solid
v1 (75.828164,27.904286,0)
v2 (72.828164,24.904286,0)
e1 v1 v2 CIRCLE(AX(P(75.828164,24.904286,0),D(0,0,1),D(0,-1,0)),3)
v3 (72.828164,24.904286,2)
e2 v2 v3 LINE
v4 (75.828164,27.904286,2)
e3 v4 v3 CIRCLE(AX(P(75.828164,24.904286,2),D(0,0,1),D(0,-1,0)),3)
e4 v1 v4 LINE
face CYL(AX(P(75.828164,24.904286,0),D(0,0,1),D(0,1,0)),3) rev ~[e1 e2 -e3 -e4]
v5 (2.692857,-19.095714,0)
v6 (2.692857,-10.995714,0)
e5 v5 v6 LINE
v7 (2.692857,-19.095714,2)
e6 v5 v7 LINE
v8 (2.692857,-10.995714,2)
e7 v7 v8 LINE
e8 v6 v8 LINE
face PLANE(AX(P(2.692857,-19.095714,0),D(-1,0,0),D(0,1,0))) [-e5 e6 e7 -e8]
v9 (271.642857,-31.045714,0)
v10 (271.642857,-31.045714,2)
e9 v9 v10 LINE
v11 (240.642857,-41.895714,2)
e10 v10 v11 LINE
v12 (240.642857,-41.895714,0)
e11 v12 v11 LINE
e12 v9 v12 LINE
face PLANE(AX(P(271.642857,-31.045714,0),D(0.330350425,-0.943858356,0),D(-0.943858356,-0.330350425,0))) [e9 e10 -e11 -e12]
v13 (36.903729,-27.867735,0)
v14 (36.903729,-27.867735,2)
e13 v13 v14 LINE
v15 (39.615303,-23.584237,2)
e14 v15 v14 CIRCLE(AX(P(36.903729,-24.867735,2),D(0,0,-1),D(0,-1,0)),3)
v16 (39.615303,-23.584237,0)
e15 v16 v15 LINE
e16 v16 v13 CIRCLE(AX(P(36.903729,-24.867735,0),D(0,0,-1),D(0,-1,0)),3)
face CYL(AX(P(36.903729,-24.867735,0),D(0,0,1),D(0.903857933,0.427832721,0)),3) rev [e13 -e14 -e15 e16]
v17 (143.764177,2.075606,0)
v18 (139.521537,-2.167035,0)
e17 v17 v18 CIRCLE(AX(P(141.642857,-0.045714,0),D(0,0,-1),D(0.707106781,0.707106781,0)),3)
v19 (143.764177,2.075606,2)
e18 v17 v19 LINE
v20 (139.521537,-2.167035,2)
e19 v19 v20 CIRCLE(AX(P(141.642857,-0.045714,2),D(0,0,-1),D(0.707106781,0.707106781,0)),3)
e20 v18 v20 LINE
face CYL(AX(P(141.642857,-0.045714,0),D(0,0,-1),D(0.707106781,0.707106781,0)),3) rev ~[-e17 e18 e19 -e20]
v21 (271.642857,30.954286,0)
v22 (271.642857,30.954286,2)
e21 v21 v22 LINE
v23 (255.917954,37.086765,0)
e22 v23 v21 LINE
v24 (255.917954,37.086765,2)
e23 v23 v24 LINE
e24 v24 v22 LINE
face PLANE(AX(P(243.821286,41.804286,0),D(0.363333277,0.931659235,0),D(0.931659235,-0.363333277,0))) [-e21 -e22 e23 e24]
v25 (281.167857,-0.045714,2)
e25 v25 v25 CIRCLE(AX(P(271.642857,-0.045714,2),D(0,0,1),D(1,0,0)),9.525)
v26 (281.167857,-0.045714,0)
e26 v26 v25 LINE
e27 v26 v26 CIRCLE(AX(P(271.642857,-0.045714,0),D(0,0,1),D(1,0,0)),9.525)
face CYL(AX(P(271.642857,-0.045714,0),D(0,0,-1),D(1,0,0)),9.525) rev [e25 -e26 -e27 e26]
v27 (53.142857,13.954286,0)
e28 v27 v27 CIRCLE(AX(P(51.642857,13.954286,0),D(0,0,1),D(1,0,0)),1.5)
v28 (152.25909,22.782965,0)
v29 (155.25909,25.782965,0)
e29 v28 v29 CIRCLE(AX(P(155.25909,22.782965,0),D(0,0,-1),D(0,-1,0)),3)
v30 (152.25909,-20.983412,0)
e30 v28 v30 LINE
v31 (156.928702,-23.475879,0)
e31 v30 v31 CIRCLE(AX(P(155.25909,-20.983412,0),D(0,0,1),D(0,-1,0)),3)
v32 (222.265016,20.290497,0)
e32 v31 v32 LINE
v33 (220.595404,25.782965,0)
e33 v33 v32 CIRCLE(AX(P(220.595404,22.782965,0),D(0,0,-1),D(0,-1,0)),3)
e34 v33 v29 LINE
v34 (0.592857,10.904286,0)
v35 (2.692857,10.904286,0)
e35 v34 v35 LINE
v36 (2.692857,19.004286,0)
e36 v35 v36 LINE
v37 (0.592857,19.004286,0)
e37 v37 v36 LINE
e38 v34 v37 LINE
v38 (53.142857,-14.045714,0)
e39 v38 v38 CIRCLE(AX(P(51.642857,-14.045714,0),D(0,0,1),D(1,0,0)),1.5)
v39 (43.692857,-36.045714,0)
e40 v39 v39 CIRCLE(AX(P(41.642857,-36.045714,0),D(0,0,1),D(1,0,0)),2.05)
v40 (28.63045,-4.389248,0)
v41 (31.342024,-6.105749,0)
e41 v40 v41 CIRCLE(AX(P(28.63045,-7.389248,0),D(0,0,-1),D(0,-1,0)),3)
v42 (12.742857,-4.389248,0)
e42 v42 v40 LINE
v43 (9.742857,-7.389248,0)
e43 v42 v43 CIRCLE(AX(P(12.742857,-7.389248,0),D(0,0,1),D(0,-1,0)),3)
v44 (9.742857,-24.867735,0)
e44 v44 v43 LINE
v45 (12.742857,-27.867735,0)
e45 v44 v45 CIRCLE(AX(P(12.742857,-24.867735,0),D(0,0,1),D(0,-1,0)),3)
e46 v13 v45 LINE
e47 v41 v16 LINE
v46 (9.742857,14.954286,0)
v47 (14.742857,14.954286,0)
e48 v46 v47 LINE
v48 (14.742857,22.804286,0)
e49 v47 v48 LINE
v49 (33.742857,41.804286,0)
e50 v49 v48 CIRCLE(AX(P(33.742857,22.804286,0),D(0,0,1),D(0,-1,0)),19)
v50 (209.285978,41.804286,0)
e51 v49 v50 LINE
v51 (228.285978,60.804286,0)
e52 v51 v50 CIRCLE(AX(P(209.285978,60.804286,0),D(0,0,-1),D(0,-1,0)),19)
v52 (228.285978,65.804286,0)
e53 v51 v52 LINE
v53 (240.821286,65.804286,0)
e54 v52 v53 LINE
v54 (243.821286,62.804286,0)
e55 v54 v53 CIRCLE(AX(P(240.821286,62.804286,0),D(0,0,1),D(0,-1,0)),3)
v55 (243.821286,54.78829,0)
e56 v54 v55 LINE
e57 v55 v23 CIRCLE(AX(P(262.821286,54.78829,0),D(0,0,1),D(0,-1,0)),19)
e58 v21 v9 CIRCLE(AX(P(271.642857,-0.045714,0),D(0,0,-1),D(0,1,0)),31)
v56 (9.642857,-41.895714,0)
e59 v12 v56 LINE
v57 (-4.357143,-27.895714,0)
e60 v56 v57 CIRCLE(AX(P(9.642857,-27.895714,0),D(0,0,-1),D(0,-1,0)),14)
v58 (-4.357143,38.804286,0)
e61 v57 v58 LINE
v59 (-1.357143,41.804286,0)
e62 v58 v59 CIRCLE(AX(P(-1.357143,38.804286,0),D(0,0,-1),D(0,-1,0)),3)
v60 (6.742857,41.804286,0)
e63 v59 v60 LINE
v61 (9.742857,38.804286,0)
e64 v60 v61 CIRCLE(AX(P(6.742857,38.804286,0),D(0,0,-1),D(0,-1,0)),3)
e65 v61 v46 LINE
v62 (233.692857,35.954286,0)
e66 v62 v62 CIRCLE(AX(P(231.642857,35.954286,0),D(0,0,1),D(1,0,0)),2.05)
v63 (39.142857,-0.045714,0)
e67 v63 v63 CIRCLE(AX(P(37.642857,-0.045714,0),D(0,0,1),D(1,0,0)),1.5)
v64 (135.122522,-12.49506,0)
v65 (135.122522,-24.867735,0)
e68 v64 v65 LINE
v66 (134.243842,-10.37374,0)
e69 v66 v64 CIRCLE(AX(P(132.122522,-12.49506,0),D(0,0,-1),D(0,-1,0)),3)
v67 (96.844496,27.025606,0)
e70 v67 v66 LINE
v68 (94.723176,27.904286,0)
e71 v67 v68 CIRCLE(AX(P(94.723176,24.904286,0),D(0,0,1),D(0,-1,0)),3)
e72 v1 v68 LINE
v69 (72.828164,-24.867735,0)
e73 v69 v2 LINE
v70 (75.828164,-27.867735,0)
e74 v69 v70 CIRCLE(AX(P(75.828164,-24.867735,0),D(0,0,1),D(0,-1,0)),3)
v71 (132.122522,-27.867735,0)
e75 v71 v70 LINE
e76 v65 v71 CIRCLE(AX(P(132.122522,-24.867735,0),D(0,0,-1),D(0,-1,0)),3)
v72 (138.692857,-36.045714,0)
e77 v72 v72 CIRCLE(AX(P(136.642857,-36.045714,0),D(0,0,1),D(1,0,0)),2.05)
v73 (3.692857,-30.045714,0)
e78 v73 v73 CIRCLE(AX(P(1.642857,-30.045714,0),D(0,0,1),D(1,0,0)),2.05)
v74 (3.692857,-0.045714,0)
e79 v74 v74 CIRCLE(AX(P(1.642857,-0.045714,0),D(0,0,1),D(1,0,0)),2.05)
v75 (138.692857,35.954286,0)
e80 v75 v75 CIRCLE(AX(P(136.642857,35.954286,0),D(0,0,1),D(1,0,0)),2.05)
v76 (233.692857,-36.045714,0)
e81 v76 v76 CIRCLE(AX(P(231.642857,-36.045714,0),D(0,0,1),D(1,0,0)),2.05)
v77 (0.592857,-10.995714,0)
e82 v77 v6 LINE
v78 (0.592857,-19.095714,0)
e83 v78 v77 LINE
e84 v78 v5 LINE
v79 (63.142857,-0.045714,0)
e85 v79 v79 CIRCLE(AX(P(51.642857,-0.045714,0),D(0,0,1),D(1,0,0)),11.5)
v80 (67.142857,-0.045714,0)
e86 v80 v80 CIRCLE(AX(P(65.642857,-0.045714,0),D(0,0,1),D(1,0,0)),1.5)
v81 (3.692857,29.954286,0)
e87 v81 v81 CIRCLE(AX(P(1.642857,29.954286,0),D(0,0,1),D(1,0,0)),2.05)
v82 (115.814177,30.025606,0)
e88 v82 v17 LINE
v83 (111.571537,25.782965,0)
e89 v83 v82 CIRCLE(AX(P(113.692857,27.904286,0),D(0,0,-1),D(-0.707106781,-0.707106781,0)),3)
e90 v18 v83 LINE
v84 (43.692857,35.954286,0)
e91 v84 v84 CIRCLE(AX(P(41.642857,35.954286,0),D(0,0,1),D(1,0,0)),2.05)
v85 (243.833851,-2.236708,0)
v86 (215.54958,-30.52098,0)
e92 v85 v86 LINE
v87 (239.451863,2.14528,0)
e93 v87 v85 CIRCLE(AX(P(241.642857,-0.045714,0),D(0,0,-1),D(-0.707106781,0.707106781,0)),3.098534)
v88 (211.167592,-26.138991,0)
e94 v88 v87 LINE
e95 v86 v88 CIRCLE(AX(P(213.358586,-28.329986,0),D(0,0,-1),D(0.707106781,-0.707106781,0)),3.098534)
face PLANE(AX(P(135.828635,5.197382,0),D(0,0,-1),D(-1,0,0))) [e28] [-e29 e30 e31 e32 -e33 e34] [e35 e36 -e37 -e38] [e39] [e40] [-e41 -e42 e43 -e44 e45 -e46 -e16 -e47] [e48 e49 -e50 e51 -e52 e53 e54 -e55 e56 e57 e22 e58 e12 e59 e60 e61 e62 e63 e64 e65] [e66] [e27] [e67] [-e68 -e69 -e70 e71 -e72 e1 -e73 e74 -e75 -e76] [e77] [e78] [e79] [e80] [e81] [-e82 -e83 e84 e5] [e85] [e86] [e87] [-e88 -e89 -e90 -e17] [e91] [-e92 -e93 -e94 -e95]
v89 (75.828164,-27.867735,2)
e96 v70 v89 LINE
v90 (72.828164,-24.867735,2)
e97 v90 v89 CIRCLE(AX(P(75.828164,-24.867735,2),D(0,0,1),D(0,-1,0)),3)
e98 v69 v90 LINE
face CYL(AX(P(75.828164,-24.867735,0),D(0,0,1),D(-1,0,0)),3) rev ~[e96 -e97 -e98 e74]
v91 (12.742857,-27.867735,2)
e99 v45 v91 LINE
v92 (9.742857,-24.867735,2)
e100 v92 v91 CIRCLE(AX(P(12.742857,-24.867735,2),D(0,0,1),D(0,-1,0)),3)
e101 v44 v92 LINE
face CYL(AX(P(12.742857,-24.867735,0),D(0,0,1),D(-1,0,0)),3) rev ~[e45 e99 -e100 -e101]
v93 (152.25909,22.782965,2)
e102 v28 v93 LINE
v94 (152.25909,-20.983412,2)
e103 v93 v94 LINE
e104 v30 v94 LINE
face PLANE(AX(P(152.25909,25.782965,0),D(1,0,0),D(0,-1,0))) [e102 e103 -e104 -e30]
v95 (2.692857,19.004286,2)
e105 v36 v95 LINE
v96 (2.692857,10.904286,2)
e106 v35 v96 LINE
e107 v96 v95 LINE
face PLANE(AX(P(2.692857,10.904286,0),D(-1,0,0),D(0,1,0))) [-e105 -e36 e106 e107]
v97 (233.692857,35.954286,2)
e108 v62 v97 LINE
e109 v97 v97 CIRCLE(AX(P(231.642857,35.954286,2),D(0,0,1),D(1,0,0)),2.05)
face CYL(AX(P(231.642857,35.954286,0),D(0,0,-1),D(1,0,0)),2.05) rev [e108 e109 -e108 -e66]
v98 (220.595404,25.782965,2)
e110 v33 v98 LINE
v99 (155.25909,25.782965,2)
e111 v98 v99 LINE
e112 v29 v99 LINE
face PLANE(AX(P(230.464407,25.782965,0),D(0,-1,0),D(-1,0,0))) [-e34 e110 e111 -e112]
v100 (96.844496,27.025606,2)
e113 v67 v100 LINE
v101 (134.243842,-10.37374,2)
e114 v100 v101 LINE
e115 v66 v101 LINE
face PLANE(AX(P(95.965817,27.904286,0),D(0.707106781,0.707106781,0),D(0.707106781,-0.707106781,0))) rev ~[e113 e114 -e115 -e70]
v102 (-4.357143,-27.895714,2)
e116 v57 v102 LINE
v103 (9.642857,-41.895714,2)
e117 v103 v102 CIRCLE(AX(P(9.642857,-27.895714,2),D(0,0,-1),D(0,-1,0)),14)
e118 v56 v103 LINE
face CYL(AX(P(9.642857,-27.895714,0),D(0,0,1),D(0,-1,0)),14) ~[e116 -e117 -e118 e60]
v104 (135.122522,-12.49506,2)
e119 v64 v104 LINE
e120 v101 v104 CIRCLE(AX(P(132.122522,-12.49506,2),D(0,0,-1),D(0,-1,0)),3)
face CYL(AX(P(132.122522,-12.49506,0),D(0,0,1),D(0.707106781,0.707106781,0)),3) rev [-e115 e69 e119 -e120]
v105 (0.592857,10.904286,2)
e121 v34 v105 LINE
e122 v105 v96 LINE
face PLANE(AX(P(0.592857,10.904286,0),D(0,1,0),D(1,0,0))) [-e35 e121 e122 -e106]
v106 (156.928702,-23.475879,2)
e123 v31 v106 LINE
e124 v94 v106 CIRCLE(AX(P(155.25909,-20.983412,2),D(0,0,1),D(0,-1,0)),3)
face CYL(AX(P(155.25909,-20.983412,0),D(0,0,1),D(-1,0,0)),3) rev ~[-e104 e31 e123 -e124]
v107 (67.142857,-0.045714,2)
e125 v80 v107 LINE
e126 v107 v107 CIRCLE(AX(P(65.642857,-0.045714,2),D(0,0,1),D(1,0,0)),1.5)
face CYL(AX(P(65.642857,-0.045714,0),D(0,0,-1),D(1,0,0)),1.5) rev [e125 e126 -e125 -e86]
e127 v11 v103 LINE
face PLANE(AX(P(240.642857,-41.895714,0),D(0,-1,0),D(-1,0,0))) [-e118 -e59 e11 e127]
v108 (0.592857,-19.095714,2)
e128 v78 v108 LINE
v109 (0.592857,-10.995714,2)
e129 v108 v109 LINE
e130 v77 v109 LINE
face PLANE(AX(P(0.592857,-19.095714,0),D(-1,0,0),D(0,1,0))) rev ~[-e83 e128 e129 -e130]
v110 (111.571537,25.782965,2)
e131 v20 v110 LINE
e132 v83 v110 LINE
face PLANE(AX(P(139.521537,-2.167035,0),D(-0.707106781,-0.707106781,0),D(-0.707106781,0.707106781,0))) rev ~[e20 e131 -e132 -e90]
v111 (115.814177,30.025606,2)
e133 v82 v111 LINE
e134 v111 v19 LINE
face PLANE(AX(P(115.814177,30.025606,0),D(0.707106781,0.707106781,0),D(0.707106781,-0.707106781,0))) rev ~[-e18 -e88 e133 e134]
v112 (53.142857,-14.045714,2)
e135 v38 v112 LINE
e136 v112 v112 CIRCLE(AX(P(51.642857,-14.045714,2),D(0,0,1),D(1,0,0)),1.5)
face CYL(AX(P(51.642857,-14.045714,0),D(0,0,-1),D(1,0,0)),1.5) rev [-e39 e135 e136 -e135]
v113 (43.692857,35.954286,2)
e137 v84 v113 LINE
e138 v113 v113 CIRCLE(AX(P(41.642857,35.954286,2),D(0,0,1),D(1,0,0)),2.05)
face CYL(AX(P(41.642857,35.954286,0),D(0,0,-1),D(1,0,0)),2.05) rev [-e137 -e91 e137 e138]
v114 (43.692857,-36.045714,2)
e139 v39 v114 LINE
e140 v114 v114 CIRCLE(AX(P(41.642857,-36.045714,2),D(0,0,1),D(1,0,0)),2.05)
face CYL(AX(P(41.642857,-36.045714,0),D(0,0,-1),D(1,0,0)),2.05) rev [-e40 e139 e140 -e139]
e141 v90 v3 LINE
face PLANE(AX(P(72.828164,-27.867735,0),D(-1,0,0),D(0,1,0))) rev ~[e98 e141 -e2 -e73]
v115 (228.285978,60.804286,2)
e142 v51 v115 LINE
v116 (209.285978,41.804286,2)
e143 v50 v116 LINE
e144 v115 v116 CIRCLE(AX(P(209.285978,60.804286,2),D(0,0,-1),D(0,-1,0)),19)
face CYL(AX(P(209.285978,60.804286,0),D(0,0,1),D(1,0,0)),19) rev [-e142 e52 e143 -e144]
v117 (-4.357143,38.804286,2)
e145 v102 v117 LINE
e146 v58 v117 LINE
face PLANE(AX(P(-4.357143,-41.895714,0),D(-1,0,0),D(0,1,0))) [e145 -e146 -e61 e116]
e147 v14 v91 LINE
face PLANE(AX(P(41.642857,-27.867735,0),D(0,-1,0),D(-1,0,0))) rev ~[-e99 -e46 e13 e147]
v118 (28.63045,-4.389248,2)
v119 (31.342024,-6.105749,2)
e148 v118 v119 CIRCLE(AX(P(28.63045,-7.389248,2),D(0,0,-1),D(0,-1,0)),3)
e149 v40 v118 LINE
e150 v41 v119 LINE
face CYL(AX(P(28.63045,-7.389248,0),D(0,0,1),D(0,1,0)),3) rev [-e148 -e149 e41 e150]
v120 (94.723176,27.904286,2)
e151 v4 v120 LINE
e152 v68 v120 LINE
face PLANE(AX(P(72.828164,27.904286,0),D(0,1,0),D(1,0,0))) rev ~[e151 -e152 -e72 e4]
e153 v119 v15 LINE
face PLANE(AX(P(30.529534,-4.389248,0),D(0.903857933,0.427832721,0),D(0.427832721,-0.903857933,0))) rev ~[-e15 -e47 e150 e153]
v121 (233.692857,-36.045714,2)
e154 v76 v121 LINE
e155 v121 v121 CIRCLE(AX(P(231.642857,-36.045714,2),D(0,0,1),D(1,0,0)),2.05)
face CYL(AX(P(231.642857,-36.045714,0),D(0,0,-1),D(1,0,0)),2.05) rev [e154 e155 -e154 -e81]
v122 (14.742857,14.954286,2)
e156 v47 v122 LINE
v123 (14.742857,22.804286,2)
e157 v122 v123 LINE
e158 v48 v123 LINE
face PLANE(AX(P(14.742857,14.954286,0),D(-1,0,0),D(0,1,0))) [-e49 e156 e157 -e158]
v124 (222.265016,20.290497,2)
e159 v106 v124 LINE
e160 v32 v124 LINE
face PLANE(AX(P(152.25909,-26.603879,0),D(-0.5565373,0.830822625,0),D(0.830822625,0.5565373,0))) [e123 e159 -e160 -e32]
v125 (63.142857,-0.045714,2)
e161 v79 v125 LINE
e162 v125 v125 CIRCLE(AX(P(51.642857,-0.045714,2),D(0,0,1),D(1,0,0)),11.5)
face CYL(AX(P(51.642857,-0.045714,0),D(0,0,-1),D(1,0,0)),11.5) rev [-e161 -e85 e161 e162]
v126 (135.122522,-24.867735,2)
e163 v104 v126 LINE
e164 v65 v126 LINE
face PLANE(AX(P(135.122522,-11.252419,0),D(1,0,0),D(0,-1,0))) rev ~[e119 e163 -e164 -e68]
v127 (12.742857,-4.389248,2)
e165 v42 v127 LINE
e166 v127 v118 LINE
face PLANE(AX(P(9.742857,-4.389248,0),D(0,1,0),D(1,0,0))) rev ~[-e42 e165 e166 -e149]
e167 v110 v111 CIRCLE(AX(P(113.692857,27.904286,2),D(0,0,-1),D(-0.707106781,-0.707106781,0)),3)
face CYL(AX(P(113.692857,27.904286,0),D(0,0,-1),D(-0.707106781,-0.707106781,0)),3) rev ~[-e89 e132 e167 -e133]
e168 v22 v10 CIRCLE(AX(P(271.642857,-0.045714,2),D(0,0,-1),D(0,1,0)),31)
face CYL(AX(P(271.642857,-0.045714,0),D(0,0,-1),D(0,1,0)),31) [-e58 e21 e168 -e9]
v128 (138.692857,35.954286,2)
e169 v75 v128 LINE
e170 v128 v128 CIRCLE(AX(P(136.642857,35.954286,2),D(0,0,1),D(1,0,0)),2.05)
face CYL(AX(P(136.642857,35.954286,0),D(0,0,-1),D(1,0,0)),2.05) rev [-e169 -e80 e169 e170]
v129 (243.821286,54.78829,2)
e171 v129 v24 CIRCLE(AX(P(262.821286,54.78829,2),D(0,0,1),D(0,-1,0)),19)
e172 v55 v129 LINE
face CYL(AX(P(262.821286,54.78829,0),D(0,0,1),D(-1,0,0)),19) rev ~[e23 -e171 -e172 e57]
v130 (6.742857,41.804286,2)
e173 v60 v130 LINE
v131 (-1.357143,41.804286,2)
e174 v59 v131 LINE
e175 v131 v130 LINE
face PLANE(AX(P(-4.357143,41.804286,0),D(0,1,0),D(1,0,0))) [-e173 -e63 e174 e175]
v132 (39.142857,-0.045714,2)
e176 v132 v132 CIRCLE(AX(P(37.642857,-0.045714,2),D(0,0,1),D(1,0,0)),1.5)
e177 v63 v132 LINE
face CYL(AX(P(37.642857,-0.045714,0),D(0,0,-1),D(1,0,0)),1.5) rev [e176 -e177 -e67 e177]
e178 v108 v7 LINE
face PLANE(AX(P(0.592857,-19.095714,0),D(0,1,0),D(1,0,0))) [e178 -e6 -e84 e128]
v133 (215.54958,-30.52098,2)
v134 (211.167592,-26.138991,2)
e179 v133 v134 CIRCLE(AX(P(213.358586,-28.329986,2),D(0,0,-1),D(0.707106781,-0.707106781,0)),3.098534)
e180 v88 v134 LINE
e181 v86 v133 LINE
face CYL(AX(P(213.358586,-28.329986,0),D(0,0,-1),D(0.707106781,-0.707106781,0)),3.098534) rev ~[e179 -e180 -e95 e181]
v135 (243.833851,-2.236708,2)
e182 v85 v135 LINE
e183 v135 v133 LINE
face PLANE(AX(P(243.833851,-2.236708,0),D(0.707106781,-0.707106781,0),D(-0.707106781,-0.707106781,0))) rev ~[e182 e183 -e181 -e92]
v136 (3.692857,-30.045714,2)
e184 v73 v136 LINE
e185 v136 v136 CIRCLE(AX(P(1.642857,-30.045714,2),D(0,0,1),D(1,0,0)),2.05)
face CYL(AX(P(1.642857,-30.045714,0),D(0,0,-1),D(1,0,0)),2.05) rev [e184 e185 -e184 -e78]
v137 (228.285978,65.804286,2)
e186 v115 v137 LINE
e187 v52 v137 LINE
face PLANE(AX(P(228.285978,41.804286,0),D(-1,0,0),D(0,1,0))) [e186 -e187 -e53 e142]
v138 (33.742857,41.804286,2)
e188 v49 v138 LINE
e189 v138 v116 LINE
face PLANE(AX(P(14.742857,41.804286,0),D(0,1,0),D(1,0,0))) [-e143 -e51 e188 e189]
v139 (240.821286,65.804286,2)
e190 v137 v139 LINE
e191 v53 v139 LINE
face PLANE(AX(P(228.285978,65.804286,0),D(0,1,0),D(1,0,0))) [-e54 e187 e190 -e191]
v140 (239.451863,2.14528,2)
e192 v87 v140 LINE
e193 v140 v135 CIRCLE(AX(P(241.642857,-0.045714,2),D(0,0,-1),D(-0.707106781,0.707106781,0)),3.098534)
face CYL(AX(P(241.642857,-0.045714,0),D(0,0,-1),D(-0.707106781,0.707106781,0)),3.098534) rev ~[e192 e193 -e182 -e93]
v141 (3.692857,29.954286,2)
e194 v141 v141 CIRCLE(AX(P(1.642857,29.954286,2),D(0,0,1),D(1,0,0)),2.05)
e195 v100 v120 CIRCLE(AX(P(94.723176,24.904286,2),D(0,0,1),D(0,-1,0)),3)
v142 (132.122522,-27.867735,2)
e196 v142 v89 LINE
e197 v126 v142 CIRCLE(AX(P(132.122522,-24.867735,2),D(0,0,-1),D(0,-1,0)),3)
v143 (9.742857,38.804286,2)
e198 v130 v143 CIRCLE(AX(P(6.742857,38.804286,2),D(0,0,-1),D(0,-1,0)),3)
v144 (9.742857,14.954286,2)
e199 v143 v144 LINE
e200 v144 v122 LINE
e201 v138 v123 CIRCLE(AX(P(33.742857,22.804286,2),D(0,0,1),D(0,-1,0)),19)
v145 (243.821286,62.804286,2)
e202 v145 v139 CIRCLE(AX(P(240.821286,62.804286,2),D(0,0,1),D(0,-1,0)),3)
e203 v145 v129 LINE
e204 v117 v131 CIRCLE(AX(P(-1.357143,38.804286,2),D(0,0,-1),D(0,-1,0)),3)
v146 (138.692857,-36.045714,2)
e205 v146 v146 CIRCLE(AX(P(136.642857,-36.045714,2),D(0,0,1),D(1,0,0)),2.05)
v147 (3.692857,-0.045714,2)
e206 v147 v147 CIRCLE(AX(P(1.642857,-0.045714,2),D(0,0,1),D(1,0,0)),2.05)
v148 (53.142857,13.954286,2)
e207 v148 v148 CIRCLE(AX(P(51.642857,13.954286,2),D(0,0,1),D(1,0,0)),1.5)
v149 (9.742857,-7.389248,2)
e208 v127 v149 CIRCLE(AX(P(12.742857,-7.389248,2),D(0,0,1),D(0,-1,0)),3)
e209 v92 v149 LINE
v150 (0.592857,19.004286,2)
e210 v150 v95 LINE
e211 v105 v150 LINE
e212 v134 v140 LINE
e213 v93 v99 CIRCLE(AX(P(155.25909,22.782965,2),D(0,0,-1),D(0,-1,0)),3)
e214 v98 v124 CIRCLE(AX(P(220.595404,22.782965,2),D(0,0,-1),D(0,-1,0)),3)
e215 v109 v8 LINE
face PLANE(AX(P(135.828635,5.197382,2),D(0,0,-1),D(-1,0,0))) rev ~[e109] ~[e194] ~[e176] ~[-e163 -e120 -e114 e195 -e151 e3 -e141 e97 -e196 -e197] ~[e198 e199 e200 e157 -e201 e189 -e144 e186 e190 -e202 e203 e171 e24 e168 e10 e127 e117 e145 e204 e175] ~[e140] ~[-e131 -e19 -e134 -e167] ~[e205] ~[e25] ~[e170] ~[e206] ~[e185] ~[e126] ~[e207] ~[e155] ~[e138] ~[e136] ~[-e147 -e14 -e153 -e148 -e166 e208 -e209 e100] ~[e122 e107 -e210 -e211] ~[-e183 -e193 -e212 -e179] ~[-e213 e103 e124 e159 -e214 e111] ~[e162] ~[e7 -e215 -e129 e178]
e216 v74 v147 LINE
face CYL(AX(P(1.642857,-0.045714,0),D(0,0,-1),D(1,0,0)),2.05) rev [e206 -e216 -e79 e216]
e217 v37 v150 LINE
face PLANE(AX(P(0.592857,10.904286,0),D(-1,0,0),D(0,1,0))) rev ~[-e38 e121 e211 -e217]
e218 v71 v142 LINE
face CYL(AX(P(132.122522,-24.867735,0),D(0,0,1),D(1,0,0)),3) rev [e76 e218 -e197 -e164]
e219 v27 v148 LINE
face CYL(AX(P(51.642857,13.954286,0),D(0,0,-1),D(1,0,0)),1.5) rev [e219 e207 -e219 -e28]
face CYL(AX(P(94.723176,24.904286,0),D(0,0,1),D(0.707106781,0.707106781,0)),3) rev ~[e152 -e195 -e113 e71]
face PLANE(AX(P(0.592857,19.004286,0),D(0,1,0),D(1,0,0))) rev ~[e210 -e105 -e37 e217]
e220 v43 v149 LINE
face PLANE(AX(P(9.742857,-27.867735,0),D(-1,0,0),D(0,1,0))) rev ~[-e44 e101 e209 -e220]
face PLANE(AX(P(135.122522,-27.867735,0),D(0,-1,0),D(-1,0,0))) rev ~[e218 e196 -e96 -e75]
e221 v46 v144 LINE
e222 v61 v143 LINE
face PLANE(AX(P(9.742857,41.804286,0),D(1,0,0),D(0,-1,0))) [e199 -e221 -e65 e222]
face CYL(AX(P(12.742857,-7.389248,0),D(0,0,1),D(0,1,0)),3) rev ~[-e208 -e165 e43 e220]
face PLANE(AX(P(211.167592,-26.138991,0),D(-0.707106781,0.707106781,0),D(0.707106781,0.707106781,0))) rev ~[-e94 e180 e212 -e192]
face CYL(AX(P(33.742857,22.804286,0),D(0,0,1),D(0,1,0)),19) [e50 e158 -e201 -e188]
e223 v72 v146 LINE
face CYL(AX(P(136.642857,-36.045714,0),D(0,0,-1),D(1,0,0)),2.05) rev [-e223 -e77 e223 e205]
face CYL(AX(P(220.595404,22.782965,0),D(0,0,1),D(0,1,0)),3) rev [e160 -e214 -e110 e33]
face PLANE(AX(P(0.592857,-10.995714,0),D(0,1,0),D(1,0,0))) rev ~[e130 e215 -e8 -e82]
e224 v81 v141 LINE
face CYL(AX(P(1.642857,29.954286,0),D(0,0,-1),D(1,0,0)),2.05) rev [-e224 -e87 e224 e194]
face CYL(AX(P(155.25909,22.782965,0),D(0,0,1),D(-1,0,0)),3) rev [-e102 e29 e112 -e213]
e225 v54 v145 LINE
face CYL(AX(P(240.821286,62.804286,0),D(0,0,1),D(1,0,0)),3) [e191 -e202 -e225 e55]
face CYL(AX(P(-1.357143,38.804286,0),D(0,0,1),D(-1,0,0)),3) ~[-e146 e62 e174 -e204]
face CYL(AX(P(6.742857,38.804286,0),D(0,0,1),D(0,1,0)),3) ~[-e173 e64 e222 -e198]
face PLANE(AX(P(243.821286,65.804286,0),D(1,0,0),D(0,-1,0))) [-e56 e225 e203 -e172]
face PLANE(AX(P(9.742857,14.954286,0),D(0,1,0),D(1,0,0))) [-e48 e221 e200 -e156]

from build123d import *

# Parameters (mm, degrees)
SKETCH_1_R      = 2.05
SKETCH_1_R_2    = 11.5
SKETCH_1_R_3    = 1.5
SKETCH_1_R_4    = 9.525
SKETCH_1_W      = 2.1
SKETCH_1_H      = 8.1
EXTRUDE_1_DEPTH = 2
FILLET_2_R      = 3
FILLET_3_R      = 19
FILLET_4_R      = 14
FILLET_5_R      = 3


with BuildPart() as part:
    # 草图1 → 凸台-拉伸1 (new body)
    with BuildSketch(Plane.XY):
        with BuildLine():
            Line((-4.357142857, -0.045714286), (-4.357142857, 41.804285714))
            Line((-4.357142857, 41.804285714), (9.742857143, 41.804285714))
            Line((9.742857143, 41.804285714), (9.742857143, 14.954285714))
            Line((9.742857143, 14.954285714), (14.742857143, 14.954285714))
            Line((14.742857143, 14.954285714), (14.742857143, 41.804285714))
            Line((14.742857143, 41.804285714), (228.285977906, 41.804285714))
            Line((228.285977906, 41.804285714), (228.285977906, 65.804285714))
            Line((228.285977906, 65.804285714), (243.821285799, 65.804285714))
            Line((243.821285799, 65.804285714), (243.821285799, 41.804285714))
            Line((243.821285799, 41.804285714), (271.642857143, 30.954285714))
            ThreePointArc((271.642857143, 30.954285714), (302.642857143, -0.045714286), (271.642857143, -31.045714286))
            Line((271.642857143, -31.045714286), (240.642857143, -41.895714286))
            Line((240.642857143, -41.895714286), (-4.357142857, -41.895714286))
            Line((-4.357142857, -41.895714286), (-4.357142857, -0.045714286))
        make_face()
        with Locations((1.642857143, 29.954285714)):
            Circle(SKETCH_1_R, mode=Mode.SUBTRACT)
        with Locations((1.642857143, -0.045714286)):
            Circle(SKETCH_1_R, mode=Mode.SUBTRACT)
        with Locations((1.642857143, -30.045714286)):
            Circle(SKETCH_1_R, mode=Mode.SUBTRACT)
        with Locations((51.642857143, -0.045714286)):
            Circle(SKETCH_1_R_2, mode=Mode.SUBTRACT)
        with Locations((51.642857143, -14.045714286)):
            Circle(SKETCH_1_R_3, mode=Mode.SUBTRACT)
        with Locations((37.642857143, -0.045714286)):
            Circle(SKETCH_1_R_3, mode=Mode.SUBTRACT)
        with Locations((51.642857143, 13.954285714)):
            Circle(SKETCH_1_R_3, mode=Mode.SUBTRACT)
        with Locations((65.642857143, -0.045714286)):
            Circle(SKETCH_1_R_3, mode=Mode.SUBTRACT)
        with Locations((271.642857143, -0.045714286)):
            Circle(SKETCH_1_R_4, mode=Mode.SUBTRACT)
        with Locations((41.642857143, 35.954285714)):
            Circle(SKETCH_1_R, mode=Mode.SUBTRACT)
        with Locations((136.642857143, 35.954285714)):
            Circle(SKETCH_1_R, mode=Mode.SUBTRACT)
        with Locations((231.642857143, 35.954285714)):
            Circle(SKETCH_1_R, mode=Mode.SUBTRACT)
        with Locations((136.642857143, -36.045714286)):
            Circle(SKETCH_1_R, mode=Mode.SUBTRACT)
        with Locations((231.642857143, -36.045714286)):
            Circle(SKETCH_1_R, mode=Mode.SUBTRACT)
        with Locations((41.642857143, -36.045714286)):
            Circle(SKETCH_1_R, mode=Mode.SUBTRACT)
        with Locations((1.642857143, 14.954285714)):
            Rectangle(SKETCH_1_W, SKETCH_1_H, mode=Mode.SUBTRACT)
        with Locations((1.642857143, -15.045714286)):
            Rectangle(SKETCH_1_W, SKETCH_1_H, mode=Mode.SUBTRACT)
        with BuildLine():
            Line((139.521536799, -2.167034629), (111.571536799, 25.782965371))
            ThreePointArc((111.571536799, 25.782965371), (111.571536799, 30.025606058), (115.814177486, 30.025606058))
            Line((115.814177486, 30.025606058), (143.764177486, 2.075606058))
            ThreePointArc((143.764177486, 2.075606058), (143.764177486, -2.167034629), (139.521536799, -2.167034629))
        make_face(mode=Mode.SUBTRACT)
        Polygon((95.965816792, 27.904285714), (135.122522002, -11.252419496), (135.122522002, -27.867735073), (72.8281641, -27.867735073), (72.8281641, 27.904285714), align=None, mode=Mode.SUBTRACT)
        Polygon((9.742857143, -4.38924766), (30.529534128, -4.38924766), (41.642857143, -27.867735073), (9.742857143, -27.867735073), align=None, mode=Mode.SUBTRACT)
        Polygon((152.259089612, -26.603879462), (230.464406562, 25.782965371), (152.259089612, 25.782965371), align=None, mode=Mode.SUBTRACT)
        with BuildLine():
            Line((243.833851294, -2.236708437), (215.549580047, -30.520979685))
            ThreePointArc((215.549580047, -30.520979685), (211.167591744, -30.520979685), (211.167591744, -26.138991382))
            Line((211.167591744, -26.138991382), (239.451862991, 2.145279866))
            ThreePointArc((239.451862991, 2.145279866), (243.833851294, 2.145279866), (243.833851294, -2.236708437))
        make_face(mode=Mode.SUBTRACT)
    extrude(amount=EXTRUDE_1_DEPTH)

    # 圆角2
    fillet_2_edges = [part.edges().sort_by_distance(p)[0] for p in [
        (41.642857143, -27.867735073, 1),
        (30.529534128, -4.38924766, 1),
        (9.742857143, -4.38924766, 1),
        (9.742857143, -27.867735073, 1),
        (72.8281641, -27.867735073, 1),
        (135.122522002, -27.867735073, 1),
        (135.122522002, -11.252419496, 1),
        (95.965816792, 27.904285714, 1),
        (72.8281641, 27.904285714, 1),
        (152.259089612, -26.603879462, 1),
        (230.464406562, 25.782965371, 1),
        (152.259089612, 25.782965371, 1),
        (243.821285799, 65.804285714, 1),
    ]]
    fillet(fillet_2_edges, radius=FILLET_2_R)

    # 圆角3
    fillet_3_edges = [part.edges().sort_by_distance(p)[0] for p in [
        (14.742857143, 41.804285714, 1),
        (228.285977906, 41.804285714, 1),
        (243.821285799, 41.804285714, 1),
    ]]
    fillet(fillet_3_edges, radius=FILLET_3_R)

    # 圆角4
    fillet_4_edges = [part.edges().sort_by_distance(p)[0] for p in [
        (-4.357142857, -41.895714286, 1),
    ]]
    fillet(fillet_4_edges, radius=FILLET_4_R)

    # 圆角5
    fillet_5_edges = [part.edges().sort_by_distance(p)[0] for p in [
        (-4.357142857, 41.804285714, 1),
        (9.742857143, 41.804285714, 1),
    ]]
    fillet(fillet_5_edges, radius=FILLET_5_R)


solid = part.part
